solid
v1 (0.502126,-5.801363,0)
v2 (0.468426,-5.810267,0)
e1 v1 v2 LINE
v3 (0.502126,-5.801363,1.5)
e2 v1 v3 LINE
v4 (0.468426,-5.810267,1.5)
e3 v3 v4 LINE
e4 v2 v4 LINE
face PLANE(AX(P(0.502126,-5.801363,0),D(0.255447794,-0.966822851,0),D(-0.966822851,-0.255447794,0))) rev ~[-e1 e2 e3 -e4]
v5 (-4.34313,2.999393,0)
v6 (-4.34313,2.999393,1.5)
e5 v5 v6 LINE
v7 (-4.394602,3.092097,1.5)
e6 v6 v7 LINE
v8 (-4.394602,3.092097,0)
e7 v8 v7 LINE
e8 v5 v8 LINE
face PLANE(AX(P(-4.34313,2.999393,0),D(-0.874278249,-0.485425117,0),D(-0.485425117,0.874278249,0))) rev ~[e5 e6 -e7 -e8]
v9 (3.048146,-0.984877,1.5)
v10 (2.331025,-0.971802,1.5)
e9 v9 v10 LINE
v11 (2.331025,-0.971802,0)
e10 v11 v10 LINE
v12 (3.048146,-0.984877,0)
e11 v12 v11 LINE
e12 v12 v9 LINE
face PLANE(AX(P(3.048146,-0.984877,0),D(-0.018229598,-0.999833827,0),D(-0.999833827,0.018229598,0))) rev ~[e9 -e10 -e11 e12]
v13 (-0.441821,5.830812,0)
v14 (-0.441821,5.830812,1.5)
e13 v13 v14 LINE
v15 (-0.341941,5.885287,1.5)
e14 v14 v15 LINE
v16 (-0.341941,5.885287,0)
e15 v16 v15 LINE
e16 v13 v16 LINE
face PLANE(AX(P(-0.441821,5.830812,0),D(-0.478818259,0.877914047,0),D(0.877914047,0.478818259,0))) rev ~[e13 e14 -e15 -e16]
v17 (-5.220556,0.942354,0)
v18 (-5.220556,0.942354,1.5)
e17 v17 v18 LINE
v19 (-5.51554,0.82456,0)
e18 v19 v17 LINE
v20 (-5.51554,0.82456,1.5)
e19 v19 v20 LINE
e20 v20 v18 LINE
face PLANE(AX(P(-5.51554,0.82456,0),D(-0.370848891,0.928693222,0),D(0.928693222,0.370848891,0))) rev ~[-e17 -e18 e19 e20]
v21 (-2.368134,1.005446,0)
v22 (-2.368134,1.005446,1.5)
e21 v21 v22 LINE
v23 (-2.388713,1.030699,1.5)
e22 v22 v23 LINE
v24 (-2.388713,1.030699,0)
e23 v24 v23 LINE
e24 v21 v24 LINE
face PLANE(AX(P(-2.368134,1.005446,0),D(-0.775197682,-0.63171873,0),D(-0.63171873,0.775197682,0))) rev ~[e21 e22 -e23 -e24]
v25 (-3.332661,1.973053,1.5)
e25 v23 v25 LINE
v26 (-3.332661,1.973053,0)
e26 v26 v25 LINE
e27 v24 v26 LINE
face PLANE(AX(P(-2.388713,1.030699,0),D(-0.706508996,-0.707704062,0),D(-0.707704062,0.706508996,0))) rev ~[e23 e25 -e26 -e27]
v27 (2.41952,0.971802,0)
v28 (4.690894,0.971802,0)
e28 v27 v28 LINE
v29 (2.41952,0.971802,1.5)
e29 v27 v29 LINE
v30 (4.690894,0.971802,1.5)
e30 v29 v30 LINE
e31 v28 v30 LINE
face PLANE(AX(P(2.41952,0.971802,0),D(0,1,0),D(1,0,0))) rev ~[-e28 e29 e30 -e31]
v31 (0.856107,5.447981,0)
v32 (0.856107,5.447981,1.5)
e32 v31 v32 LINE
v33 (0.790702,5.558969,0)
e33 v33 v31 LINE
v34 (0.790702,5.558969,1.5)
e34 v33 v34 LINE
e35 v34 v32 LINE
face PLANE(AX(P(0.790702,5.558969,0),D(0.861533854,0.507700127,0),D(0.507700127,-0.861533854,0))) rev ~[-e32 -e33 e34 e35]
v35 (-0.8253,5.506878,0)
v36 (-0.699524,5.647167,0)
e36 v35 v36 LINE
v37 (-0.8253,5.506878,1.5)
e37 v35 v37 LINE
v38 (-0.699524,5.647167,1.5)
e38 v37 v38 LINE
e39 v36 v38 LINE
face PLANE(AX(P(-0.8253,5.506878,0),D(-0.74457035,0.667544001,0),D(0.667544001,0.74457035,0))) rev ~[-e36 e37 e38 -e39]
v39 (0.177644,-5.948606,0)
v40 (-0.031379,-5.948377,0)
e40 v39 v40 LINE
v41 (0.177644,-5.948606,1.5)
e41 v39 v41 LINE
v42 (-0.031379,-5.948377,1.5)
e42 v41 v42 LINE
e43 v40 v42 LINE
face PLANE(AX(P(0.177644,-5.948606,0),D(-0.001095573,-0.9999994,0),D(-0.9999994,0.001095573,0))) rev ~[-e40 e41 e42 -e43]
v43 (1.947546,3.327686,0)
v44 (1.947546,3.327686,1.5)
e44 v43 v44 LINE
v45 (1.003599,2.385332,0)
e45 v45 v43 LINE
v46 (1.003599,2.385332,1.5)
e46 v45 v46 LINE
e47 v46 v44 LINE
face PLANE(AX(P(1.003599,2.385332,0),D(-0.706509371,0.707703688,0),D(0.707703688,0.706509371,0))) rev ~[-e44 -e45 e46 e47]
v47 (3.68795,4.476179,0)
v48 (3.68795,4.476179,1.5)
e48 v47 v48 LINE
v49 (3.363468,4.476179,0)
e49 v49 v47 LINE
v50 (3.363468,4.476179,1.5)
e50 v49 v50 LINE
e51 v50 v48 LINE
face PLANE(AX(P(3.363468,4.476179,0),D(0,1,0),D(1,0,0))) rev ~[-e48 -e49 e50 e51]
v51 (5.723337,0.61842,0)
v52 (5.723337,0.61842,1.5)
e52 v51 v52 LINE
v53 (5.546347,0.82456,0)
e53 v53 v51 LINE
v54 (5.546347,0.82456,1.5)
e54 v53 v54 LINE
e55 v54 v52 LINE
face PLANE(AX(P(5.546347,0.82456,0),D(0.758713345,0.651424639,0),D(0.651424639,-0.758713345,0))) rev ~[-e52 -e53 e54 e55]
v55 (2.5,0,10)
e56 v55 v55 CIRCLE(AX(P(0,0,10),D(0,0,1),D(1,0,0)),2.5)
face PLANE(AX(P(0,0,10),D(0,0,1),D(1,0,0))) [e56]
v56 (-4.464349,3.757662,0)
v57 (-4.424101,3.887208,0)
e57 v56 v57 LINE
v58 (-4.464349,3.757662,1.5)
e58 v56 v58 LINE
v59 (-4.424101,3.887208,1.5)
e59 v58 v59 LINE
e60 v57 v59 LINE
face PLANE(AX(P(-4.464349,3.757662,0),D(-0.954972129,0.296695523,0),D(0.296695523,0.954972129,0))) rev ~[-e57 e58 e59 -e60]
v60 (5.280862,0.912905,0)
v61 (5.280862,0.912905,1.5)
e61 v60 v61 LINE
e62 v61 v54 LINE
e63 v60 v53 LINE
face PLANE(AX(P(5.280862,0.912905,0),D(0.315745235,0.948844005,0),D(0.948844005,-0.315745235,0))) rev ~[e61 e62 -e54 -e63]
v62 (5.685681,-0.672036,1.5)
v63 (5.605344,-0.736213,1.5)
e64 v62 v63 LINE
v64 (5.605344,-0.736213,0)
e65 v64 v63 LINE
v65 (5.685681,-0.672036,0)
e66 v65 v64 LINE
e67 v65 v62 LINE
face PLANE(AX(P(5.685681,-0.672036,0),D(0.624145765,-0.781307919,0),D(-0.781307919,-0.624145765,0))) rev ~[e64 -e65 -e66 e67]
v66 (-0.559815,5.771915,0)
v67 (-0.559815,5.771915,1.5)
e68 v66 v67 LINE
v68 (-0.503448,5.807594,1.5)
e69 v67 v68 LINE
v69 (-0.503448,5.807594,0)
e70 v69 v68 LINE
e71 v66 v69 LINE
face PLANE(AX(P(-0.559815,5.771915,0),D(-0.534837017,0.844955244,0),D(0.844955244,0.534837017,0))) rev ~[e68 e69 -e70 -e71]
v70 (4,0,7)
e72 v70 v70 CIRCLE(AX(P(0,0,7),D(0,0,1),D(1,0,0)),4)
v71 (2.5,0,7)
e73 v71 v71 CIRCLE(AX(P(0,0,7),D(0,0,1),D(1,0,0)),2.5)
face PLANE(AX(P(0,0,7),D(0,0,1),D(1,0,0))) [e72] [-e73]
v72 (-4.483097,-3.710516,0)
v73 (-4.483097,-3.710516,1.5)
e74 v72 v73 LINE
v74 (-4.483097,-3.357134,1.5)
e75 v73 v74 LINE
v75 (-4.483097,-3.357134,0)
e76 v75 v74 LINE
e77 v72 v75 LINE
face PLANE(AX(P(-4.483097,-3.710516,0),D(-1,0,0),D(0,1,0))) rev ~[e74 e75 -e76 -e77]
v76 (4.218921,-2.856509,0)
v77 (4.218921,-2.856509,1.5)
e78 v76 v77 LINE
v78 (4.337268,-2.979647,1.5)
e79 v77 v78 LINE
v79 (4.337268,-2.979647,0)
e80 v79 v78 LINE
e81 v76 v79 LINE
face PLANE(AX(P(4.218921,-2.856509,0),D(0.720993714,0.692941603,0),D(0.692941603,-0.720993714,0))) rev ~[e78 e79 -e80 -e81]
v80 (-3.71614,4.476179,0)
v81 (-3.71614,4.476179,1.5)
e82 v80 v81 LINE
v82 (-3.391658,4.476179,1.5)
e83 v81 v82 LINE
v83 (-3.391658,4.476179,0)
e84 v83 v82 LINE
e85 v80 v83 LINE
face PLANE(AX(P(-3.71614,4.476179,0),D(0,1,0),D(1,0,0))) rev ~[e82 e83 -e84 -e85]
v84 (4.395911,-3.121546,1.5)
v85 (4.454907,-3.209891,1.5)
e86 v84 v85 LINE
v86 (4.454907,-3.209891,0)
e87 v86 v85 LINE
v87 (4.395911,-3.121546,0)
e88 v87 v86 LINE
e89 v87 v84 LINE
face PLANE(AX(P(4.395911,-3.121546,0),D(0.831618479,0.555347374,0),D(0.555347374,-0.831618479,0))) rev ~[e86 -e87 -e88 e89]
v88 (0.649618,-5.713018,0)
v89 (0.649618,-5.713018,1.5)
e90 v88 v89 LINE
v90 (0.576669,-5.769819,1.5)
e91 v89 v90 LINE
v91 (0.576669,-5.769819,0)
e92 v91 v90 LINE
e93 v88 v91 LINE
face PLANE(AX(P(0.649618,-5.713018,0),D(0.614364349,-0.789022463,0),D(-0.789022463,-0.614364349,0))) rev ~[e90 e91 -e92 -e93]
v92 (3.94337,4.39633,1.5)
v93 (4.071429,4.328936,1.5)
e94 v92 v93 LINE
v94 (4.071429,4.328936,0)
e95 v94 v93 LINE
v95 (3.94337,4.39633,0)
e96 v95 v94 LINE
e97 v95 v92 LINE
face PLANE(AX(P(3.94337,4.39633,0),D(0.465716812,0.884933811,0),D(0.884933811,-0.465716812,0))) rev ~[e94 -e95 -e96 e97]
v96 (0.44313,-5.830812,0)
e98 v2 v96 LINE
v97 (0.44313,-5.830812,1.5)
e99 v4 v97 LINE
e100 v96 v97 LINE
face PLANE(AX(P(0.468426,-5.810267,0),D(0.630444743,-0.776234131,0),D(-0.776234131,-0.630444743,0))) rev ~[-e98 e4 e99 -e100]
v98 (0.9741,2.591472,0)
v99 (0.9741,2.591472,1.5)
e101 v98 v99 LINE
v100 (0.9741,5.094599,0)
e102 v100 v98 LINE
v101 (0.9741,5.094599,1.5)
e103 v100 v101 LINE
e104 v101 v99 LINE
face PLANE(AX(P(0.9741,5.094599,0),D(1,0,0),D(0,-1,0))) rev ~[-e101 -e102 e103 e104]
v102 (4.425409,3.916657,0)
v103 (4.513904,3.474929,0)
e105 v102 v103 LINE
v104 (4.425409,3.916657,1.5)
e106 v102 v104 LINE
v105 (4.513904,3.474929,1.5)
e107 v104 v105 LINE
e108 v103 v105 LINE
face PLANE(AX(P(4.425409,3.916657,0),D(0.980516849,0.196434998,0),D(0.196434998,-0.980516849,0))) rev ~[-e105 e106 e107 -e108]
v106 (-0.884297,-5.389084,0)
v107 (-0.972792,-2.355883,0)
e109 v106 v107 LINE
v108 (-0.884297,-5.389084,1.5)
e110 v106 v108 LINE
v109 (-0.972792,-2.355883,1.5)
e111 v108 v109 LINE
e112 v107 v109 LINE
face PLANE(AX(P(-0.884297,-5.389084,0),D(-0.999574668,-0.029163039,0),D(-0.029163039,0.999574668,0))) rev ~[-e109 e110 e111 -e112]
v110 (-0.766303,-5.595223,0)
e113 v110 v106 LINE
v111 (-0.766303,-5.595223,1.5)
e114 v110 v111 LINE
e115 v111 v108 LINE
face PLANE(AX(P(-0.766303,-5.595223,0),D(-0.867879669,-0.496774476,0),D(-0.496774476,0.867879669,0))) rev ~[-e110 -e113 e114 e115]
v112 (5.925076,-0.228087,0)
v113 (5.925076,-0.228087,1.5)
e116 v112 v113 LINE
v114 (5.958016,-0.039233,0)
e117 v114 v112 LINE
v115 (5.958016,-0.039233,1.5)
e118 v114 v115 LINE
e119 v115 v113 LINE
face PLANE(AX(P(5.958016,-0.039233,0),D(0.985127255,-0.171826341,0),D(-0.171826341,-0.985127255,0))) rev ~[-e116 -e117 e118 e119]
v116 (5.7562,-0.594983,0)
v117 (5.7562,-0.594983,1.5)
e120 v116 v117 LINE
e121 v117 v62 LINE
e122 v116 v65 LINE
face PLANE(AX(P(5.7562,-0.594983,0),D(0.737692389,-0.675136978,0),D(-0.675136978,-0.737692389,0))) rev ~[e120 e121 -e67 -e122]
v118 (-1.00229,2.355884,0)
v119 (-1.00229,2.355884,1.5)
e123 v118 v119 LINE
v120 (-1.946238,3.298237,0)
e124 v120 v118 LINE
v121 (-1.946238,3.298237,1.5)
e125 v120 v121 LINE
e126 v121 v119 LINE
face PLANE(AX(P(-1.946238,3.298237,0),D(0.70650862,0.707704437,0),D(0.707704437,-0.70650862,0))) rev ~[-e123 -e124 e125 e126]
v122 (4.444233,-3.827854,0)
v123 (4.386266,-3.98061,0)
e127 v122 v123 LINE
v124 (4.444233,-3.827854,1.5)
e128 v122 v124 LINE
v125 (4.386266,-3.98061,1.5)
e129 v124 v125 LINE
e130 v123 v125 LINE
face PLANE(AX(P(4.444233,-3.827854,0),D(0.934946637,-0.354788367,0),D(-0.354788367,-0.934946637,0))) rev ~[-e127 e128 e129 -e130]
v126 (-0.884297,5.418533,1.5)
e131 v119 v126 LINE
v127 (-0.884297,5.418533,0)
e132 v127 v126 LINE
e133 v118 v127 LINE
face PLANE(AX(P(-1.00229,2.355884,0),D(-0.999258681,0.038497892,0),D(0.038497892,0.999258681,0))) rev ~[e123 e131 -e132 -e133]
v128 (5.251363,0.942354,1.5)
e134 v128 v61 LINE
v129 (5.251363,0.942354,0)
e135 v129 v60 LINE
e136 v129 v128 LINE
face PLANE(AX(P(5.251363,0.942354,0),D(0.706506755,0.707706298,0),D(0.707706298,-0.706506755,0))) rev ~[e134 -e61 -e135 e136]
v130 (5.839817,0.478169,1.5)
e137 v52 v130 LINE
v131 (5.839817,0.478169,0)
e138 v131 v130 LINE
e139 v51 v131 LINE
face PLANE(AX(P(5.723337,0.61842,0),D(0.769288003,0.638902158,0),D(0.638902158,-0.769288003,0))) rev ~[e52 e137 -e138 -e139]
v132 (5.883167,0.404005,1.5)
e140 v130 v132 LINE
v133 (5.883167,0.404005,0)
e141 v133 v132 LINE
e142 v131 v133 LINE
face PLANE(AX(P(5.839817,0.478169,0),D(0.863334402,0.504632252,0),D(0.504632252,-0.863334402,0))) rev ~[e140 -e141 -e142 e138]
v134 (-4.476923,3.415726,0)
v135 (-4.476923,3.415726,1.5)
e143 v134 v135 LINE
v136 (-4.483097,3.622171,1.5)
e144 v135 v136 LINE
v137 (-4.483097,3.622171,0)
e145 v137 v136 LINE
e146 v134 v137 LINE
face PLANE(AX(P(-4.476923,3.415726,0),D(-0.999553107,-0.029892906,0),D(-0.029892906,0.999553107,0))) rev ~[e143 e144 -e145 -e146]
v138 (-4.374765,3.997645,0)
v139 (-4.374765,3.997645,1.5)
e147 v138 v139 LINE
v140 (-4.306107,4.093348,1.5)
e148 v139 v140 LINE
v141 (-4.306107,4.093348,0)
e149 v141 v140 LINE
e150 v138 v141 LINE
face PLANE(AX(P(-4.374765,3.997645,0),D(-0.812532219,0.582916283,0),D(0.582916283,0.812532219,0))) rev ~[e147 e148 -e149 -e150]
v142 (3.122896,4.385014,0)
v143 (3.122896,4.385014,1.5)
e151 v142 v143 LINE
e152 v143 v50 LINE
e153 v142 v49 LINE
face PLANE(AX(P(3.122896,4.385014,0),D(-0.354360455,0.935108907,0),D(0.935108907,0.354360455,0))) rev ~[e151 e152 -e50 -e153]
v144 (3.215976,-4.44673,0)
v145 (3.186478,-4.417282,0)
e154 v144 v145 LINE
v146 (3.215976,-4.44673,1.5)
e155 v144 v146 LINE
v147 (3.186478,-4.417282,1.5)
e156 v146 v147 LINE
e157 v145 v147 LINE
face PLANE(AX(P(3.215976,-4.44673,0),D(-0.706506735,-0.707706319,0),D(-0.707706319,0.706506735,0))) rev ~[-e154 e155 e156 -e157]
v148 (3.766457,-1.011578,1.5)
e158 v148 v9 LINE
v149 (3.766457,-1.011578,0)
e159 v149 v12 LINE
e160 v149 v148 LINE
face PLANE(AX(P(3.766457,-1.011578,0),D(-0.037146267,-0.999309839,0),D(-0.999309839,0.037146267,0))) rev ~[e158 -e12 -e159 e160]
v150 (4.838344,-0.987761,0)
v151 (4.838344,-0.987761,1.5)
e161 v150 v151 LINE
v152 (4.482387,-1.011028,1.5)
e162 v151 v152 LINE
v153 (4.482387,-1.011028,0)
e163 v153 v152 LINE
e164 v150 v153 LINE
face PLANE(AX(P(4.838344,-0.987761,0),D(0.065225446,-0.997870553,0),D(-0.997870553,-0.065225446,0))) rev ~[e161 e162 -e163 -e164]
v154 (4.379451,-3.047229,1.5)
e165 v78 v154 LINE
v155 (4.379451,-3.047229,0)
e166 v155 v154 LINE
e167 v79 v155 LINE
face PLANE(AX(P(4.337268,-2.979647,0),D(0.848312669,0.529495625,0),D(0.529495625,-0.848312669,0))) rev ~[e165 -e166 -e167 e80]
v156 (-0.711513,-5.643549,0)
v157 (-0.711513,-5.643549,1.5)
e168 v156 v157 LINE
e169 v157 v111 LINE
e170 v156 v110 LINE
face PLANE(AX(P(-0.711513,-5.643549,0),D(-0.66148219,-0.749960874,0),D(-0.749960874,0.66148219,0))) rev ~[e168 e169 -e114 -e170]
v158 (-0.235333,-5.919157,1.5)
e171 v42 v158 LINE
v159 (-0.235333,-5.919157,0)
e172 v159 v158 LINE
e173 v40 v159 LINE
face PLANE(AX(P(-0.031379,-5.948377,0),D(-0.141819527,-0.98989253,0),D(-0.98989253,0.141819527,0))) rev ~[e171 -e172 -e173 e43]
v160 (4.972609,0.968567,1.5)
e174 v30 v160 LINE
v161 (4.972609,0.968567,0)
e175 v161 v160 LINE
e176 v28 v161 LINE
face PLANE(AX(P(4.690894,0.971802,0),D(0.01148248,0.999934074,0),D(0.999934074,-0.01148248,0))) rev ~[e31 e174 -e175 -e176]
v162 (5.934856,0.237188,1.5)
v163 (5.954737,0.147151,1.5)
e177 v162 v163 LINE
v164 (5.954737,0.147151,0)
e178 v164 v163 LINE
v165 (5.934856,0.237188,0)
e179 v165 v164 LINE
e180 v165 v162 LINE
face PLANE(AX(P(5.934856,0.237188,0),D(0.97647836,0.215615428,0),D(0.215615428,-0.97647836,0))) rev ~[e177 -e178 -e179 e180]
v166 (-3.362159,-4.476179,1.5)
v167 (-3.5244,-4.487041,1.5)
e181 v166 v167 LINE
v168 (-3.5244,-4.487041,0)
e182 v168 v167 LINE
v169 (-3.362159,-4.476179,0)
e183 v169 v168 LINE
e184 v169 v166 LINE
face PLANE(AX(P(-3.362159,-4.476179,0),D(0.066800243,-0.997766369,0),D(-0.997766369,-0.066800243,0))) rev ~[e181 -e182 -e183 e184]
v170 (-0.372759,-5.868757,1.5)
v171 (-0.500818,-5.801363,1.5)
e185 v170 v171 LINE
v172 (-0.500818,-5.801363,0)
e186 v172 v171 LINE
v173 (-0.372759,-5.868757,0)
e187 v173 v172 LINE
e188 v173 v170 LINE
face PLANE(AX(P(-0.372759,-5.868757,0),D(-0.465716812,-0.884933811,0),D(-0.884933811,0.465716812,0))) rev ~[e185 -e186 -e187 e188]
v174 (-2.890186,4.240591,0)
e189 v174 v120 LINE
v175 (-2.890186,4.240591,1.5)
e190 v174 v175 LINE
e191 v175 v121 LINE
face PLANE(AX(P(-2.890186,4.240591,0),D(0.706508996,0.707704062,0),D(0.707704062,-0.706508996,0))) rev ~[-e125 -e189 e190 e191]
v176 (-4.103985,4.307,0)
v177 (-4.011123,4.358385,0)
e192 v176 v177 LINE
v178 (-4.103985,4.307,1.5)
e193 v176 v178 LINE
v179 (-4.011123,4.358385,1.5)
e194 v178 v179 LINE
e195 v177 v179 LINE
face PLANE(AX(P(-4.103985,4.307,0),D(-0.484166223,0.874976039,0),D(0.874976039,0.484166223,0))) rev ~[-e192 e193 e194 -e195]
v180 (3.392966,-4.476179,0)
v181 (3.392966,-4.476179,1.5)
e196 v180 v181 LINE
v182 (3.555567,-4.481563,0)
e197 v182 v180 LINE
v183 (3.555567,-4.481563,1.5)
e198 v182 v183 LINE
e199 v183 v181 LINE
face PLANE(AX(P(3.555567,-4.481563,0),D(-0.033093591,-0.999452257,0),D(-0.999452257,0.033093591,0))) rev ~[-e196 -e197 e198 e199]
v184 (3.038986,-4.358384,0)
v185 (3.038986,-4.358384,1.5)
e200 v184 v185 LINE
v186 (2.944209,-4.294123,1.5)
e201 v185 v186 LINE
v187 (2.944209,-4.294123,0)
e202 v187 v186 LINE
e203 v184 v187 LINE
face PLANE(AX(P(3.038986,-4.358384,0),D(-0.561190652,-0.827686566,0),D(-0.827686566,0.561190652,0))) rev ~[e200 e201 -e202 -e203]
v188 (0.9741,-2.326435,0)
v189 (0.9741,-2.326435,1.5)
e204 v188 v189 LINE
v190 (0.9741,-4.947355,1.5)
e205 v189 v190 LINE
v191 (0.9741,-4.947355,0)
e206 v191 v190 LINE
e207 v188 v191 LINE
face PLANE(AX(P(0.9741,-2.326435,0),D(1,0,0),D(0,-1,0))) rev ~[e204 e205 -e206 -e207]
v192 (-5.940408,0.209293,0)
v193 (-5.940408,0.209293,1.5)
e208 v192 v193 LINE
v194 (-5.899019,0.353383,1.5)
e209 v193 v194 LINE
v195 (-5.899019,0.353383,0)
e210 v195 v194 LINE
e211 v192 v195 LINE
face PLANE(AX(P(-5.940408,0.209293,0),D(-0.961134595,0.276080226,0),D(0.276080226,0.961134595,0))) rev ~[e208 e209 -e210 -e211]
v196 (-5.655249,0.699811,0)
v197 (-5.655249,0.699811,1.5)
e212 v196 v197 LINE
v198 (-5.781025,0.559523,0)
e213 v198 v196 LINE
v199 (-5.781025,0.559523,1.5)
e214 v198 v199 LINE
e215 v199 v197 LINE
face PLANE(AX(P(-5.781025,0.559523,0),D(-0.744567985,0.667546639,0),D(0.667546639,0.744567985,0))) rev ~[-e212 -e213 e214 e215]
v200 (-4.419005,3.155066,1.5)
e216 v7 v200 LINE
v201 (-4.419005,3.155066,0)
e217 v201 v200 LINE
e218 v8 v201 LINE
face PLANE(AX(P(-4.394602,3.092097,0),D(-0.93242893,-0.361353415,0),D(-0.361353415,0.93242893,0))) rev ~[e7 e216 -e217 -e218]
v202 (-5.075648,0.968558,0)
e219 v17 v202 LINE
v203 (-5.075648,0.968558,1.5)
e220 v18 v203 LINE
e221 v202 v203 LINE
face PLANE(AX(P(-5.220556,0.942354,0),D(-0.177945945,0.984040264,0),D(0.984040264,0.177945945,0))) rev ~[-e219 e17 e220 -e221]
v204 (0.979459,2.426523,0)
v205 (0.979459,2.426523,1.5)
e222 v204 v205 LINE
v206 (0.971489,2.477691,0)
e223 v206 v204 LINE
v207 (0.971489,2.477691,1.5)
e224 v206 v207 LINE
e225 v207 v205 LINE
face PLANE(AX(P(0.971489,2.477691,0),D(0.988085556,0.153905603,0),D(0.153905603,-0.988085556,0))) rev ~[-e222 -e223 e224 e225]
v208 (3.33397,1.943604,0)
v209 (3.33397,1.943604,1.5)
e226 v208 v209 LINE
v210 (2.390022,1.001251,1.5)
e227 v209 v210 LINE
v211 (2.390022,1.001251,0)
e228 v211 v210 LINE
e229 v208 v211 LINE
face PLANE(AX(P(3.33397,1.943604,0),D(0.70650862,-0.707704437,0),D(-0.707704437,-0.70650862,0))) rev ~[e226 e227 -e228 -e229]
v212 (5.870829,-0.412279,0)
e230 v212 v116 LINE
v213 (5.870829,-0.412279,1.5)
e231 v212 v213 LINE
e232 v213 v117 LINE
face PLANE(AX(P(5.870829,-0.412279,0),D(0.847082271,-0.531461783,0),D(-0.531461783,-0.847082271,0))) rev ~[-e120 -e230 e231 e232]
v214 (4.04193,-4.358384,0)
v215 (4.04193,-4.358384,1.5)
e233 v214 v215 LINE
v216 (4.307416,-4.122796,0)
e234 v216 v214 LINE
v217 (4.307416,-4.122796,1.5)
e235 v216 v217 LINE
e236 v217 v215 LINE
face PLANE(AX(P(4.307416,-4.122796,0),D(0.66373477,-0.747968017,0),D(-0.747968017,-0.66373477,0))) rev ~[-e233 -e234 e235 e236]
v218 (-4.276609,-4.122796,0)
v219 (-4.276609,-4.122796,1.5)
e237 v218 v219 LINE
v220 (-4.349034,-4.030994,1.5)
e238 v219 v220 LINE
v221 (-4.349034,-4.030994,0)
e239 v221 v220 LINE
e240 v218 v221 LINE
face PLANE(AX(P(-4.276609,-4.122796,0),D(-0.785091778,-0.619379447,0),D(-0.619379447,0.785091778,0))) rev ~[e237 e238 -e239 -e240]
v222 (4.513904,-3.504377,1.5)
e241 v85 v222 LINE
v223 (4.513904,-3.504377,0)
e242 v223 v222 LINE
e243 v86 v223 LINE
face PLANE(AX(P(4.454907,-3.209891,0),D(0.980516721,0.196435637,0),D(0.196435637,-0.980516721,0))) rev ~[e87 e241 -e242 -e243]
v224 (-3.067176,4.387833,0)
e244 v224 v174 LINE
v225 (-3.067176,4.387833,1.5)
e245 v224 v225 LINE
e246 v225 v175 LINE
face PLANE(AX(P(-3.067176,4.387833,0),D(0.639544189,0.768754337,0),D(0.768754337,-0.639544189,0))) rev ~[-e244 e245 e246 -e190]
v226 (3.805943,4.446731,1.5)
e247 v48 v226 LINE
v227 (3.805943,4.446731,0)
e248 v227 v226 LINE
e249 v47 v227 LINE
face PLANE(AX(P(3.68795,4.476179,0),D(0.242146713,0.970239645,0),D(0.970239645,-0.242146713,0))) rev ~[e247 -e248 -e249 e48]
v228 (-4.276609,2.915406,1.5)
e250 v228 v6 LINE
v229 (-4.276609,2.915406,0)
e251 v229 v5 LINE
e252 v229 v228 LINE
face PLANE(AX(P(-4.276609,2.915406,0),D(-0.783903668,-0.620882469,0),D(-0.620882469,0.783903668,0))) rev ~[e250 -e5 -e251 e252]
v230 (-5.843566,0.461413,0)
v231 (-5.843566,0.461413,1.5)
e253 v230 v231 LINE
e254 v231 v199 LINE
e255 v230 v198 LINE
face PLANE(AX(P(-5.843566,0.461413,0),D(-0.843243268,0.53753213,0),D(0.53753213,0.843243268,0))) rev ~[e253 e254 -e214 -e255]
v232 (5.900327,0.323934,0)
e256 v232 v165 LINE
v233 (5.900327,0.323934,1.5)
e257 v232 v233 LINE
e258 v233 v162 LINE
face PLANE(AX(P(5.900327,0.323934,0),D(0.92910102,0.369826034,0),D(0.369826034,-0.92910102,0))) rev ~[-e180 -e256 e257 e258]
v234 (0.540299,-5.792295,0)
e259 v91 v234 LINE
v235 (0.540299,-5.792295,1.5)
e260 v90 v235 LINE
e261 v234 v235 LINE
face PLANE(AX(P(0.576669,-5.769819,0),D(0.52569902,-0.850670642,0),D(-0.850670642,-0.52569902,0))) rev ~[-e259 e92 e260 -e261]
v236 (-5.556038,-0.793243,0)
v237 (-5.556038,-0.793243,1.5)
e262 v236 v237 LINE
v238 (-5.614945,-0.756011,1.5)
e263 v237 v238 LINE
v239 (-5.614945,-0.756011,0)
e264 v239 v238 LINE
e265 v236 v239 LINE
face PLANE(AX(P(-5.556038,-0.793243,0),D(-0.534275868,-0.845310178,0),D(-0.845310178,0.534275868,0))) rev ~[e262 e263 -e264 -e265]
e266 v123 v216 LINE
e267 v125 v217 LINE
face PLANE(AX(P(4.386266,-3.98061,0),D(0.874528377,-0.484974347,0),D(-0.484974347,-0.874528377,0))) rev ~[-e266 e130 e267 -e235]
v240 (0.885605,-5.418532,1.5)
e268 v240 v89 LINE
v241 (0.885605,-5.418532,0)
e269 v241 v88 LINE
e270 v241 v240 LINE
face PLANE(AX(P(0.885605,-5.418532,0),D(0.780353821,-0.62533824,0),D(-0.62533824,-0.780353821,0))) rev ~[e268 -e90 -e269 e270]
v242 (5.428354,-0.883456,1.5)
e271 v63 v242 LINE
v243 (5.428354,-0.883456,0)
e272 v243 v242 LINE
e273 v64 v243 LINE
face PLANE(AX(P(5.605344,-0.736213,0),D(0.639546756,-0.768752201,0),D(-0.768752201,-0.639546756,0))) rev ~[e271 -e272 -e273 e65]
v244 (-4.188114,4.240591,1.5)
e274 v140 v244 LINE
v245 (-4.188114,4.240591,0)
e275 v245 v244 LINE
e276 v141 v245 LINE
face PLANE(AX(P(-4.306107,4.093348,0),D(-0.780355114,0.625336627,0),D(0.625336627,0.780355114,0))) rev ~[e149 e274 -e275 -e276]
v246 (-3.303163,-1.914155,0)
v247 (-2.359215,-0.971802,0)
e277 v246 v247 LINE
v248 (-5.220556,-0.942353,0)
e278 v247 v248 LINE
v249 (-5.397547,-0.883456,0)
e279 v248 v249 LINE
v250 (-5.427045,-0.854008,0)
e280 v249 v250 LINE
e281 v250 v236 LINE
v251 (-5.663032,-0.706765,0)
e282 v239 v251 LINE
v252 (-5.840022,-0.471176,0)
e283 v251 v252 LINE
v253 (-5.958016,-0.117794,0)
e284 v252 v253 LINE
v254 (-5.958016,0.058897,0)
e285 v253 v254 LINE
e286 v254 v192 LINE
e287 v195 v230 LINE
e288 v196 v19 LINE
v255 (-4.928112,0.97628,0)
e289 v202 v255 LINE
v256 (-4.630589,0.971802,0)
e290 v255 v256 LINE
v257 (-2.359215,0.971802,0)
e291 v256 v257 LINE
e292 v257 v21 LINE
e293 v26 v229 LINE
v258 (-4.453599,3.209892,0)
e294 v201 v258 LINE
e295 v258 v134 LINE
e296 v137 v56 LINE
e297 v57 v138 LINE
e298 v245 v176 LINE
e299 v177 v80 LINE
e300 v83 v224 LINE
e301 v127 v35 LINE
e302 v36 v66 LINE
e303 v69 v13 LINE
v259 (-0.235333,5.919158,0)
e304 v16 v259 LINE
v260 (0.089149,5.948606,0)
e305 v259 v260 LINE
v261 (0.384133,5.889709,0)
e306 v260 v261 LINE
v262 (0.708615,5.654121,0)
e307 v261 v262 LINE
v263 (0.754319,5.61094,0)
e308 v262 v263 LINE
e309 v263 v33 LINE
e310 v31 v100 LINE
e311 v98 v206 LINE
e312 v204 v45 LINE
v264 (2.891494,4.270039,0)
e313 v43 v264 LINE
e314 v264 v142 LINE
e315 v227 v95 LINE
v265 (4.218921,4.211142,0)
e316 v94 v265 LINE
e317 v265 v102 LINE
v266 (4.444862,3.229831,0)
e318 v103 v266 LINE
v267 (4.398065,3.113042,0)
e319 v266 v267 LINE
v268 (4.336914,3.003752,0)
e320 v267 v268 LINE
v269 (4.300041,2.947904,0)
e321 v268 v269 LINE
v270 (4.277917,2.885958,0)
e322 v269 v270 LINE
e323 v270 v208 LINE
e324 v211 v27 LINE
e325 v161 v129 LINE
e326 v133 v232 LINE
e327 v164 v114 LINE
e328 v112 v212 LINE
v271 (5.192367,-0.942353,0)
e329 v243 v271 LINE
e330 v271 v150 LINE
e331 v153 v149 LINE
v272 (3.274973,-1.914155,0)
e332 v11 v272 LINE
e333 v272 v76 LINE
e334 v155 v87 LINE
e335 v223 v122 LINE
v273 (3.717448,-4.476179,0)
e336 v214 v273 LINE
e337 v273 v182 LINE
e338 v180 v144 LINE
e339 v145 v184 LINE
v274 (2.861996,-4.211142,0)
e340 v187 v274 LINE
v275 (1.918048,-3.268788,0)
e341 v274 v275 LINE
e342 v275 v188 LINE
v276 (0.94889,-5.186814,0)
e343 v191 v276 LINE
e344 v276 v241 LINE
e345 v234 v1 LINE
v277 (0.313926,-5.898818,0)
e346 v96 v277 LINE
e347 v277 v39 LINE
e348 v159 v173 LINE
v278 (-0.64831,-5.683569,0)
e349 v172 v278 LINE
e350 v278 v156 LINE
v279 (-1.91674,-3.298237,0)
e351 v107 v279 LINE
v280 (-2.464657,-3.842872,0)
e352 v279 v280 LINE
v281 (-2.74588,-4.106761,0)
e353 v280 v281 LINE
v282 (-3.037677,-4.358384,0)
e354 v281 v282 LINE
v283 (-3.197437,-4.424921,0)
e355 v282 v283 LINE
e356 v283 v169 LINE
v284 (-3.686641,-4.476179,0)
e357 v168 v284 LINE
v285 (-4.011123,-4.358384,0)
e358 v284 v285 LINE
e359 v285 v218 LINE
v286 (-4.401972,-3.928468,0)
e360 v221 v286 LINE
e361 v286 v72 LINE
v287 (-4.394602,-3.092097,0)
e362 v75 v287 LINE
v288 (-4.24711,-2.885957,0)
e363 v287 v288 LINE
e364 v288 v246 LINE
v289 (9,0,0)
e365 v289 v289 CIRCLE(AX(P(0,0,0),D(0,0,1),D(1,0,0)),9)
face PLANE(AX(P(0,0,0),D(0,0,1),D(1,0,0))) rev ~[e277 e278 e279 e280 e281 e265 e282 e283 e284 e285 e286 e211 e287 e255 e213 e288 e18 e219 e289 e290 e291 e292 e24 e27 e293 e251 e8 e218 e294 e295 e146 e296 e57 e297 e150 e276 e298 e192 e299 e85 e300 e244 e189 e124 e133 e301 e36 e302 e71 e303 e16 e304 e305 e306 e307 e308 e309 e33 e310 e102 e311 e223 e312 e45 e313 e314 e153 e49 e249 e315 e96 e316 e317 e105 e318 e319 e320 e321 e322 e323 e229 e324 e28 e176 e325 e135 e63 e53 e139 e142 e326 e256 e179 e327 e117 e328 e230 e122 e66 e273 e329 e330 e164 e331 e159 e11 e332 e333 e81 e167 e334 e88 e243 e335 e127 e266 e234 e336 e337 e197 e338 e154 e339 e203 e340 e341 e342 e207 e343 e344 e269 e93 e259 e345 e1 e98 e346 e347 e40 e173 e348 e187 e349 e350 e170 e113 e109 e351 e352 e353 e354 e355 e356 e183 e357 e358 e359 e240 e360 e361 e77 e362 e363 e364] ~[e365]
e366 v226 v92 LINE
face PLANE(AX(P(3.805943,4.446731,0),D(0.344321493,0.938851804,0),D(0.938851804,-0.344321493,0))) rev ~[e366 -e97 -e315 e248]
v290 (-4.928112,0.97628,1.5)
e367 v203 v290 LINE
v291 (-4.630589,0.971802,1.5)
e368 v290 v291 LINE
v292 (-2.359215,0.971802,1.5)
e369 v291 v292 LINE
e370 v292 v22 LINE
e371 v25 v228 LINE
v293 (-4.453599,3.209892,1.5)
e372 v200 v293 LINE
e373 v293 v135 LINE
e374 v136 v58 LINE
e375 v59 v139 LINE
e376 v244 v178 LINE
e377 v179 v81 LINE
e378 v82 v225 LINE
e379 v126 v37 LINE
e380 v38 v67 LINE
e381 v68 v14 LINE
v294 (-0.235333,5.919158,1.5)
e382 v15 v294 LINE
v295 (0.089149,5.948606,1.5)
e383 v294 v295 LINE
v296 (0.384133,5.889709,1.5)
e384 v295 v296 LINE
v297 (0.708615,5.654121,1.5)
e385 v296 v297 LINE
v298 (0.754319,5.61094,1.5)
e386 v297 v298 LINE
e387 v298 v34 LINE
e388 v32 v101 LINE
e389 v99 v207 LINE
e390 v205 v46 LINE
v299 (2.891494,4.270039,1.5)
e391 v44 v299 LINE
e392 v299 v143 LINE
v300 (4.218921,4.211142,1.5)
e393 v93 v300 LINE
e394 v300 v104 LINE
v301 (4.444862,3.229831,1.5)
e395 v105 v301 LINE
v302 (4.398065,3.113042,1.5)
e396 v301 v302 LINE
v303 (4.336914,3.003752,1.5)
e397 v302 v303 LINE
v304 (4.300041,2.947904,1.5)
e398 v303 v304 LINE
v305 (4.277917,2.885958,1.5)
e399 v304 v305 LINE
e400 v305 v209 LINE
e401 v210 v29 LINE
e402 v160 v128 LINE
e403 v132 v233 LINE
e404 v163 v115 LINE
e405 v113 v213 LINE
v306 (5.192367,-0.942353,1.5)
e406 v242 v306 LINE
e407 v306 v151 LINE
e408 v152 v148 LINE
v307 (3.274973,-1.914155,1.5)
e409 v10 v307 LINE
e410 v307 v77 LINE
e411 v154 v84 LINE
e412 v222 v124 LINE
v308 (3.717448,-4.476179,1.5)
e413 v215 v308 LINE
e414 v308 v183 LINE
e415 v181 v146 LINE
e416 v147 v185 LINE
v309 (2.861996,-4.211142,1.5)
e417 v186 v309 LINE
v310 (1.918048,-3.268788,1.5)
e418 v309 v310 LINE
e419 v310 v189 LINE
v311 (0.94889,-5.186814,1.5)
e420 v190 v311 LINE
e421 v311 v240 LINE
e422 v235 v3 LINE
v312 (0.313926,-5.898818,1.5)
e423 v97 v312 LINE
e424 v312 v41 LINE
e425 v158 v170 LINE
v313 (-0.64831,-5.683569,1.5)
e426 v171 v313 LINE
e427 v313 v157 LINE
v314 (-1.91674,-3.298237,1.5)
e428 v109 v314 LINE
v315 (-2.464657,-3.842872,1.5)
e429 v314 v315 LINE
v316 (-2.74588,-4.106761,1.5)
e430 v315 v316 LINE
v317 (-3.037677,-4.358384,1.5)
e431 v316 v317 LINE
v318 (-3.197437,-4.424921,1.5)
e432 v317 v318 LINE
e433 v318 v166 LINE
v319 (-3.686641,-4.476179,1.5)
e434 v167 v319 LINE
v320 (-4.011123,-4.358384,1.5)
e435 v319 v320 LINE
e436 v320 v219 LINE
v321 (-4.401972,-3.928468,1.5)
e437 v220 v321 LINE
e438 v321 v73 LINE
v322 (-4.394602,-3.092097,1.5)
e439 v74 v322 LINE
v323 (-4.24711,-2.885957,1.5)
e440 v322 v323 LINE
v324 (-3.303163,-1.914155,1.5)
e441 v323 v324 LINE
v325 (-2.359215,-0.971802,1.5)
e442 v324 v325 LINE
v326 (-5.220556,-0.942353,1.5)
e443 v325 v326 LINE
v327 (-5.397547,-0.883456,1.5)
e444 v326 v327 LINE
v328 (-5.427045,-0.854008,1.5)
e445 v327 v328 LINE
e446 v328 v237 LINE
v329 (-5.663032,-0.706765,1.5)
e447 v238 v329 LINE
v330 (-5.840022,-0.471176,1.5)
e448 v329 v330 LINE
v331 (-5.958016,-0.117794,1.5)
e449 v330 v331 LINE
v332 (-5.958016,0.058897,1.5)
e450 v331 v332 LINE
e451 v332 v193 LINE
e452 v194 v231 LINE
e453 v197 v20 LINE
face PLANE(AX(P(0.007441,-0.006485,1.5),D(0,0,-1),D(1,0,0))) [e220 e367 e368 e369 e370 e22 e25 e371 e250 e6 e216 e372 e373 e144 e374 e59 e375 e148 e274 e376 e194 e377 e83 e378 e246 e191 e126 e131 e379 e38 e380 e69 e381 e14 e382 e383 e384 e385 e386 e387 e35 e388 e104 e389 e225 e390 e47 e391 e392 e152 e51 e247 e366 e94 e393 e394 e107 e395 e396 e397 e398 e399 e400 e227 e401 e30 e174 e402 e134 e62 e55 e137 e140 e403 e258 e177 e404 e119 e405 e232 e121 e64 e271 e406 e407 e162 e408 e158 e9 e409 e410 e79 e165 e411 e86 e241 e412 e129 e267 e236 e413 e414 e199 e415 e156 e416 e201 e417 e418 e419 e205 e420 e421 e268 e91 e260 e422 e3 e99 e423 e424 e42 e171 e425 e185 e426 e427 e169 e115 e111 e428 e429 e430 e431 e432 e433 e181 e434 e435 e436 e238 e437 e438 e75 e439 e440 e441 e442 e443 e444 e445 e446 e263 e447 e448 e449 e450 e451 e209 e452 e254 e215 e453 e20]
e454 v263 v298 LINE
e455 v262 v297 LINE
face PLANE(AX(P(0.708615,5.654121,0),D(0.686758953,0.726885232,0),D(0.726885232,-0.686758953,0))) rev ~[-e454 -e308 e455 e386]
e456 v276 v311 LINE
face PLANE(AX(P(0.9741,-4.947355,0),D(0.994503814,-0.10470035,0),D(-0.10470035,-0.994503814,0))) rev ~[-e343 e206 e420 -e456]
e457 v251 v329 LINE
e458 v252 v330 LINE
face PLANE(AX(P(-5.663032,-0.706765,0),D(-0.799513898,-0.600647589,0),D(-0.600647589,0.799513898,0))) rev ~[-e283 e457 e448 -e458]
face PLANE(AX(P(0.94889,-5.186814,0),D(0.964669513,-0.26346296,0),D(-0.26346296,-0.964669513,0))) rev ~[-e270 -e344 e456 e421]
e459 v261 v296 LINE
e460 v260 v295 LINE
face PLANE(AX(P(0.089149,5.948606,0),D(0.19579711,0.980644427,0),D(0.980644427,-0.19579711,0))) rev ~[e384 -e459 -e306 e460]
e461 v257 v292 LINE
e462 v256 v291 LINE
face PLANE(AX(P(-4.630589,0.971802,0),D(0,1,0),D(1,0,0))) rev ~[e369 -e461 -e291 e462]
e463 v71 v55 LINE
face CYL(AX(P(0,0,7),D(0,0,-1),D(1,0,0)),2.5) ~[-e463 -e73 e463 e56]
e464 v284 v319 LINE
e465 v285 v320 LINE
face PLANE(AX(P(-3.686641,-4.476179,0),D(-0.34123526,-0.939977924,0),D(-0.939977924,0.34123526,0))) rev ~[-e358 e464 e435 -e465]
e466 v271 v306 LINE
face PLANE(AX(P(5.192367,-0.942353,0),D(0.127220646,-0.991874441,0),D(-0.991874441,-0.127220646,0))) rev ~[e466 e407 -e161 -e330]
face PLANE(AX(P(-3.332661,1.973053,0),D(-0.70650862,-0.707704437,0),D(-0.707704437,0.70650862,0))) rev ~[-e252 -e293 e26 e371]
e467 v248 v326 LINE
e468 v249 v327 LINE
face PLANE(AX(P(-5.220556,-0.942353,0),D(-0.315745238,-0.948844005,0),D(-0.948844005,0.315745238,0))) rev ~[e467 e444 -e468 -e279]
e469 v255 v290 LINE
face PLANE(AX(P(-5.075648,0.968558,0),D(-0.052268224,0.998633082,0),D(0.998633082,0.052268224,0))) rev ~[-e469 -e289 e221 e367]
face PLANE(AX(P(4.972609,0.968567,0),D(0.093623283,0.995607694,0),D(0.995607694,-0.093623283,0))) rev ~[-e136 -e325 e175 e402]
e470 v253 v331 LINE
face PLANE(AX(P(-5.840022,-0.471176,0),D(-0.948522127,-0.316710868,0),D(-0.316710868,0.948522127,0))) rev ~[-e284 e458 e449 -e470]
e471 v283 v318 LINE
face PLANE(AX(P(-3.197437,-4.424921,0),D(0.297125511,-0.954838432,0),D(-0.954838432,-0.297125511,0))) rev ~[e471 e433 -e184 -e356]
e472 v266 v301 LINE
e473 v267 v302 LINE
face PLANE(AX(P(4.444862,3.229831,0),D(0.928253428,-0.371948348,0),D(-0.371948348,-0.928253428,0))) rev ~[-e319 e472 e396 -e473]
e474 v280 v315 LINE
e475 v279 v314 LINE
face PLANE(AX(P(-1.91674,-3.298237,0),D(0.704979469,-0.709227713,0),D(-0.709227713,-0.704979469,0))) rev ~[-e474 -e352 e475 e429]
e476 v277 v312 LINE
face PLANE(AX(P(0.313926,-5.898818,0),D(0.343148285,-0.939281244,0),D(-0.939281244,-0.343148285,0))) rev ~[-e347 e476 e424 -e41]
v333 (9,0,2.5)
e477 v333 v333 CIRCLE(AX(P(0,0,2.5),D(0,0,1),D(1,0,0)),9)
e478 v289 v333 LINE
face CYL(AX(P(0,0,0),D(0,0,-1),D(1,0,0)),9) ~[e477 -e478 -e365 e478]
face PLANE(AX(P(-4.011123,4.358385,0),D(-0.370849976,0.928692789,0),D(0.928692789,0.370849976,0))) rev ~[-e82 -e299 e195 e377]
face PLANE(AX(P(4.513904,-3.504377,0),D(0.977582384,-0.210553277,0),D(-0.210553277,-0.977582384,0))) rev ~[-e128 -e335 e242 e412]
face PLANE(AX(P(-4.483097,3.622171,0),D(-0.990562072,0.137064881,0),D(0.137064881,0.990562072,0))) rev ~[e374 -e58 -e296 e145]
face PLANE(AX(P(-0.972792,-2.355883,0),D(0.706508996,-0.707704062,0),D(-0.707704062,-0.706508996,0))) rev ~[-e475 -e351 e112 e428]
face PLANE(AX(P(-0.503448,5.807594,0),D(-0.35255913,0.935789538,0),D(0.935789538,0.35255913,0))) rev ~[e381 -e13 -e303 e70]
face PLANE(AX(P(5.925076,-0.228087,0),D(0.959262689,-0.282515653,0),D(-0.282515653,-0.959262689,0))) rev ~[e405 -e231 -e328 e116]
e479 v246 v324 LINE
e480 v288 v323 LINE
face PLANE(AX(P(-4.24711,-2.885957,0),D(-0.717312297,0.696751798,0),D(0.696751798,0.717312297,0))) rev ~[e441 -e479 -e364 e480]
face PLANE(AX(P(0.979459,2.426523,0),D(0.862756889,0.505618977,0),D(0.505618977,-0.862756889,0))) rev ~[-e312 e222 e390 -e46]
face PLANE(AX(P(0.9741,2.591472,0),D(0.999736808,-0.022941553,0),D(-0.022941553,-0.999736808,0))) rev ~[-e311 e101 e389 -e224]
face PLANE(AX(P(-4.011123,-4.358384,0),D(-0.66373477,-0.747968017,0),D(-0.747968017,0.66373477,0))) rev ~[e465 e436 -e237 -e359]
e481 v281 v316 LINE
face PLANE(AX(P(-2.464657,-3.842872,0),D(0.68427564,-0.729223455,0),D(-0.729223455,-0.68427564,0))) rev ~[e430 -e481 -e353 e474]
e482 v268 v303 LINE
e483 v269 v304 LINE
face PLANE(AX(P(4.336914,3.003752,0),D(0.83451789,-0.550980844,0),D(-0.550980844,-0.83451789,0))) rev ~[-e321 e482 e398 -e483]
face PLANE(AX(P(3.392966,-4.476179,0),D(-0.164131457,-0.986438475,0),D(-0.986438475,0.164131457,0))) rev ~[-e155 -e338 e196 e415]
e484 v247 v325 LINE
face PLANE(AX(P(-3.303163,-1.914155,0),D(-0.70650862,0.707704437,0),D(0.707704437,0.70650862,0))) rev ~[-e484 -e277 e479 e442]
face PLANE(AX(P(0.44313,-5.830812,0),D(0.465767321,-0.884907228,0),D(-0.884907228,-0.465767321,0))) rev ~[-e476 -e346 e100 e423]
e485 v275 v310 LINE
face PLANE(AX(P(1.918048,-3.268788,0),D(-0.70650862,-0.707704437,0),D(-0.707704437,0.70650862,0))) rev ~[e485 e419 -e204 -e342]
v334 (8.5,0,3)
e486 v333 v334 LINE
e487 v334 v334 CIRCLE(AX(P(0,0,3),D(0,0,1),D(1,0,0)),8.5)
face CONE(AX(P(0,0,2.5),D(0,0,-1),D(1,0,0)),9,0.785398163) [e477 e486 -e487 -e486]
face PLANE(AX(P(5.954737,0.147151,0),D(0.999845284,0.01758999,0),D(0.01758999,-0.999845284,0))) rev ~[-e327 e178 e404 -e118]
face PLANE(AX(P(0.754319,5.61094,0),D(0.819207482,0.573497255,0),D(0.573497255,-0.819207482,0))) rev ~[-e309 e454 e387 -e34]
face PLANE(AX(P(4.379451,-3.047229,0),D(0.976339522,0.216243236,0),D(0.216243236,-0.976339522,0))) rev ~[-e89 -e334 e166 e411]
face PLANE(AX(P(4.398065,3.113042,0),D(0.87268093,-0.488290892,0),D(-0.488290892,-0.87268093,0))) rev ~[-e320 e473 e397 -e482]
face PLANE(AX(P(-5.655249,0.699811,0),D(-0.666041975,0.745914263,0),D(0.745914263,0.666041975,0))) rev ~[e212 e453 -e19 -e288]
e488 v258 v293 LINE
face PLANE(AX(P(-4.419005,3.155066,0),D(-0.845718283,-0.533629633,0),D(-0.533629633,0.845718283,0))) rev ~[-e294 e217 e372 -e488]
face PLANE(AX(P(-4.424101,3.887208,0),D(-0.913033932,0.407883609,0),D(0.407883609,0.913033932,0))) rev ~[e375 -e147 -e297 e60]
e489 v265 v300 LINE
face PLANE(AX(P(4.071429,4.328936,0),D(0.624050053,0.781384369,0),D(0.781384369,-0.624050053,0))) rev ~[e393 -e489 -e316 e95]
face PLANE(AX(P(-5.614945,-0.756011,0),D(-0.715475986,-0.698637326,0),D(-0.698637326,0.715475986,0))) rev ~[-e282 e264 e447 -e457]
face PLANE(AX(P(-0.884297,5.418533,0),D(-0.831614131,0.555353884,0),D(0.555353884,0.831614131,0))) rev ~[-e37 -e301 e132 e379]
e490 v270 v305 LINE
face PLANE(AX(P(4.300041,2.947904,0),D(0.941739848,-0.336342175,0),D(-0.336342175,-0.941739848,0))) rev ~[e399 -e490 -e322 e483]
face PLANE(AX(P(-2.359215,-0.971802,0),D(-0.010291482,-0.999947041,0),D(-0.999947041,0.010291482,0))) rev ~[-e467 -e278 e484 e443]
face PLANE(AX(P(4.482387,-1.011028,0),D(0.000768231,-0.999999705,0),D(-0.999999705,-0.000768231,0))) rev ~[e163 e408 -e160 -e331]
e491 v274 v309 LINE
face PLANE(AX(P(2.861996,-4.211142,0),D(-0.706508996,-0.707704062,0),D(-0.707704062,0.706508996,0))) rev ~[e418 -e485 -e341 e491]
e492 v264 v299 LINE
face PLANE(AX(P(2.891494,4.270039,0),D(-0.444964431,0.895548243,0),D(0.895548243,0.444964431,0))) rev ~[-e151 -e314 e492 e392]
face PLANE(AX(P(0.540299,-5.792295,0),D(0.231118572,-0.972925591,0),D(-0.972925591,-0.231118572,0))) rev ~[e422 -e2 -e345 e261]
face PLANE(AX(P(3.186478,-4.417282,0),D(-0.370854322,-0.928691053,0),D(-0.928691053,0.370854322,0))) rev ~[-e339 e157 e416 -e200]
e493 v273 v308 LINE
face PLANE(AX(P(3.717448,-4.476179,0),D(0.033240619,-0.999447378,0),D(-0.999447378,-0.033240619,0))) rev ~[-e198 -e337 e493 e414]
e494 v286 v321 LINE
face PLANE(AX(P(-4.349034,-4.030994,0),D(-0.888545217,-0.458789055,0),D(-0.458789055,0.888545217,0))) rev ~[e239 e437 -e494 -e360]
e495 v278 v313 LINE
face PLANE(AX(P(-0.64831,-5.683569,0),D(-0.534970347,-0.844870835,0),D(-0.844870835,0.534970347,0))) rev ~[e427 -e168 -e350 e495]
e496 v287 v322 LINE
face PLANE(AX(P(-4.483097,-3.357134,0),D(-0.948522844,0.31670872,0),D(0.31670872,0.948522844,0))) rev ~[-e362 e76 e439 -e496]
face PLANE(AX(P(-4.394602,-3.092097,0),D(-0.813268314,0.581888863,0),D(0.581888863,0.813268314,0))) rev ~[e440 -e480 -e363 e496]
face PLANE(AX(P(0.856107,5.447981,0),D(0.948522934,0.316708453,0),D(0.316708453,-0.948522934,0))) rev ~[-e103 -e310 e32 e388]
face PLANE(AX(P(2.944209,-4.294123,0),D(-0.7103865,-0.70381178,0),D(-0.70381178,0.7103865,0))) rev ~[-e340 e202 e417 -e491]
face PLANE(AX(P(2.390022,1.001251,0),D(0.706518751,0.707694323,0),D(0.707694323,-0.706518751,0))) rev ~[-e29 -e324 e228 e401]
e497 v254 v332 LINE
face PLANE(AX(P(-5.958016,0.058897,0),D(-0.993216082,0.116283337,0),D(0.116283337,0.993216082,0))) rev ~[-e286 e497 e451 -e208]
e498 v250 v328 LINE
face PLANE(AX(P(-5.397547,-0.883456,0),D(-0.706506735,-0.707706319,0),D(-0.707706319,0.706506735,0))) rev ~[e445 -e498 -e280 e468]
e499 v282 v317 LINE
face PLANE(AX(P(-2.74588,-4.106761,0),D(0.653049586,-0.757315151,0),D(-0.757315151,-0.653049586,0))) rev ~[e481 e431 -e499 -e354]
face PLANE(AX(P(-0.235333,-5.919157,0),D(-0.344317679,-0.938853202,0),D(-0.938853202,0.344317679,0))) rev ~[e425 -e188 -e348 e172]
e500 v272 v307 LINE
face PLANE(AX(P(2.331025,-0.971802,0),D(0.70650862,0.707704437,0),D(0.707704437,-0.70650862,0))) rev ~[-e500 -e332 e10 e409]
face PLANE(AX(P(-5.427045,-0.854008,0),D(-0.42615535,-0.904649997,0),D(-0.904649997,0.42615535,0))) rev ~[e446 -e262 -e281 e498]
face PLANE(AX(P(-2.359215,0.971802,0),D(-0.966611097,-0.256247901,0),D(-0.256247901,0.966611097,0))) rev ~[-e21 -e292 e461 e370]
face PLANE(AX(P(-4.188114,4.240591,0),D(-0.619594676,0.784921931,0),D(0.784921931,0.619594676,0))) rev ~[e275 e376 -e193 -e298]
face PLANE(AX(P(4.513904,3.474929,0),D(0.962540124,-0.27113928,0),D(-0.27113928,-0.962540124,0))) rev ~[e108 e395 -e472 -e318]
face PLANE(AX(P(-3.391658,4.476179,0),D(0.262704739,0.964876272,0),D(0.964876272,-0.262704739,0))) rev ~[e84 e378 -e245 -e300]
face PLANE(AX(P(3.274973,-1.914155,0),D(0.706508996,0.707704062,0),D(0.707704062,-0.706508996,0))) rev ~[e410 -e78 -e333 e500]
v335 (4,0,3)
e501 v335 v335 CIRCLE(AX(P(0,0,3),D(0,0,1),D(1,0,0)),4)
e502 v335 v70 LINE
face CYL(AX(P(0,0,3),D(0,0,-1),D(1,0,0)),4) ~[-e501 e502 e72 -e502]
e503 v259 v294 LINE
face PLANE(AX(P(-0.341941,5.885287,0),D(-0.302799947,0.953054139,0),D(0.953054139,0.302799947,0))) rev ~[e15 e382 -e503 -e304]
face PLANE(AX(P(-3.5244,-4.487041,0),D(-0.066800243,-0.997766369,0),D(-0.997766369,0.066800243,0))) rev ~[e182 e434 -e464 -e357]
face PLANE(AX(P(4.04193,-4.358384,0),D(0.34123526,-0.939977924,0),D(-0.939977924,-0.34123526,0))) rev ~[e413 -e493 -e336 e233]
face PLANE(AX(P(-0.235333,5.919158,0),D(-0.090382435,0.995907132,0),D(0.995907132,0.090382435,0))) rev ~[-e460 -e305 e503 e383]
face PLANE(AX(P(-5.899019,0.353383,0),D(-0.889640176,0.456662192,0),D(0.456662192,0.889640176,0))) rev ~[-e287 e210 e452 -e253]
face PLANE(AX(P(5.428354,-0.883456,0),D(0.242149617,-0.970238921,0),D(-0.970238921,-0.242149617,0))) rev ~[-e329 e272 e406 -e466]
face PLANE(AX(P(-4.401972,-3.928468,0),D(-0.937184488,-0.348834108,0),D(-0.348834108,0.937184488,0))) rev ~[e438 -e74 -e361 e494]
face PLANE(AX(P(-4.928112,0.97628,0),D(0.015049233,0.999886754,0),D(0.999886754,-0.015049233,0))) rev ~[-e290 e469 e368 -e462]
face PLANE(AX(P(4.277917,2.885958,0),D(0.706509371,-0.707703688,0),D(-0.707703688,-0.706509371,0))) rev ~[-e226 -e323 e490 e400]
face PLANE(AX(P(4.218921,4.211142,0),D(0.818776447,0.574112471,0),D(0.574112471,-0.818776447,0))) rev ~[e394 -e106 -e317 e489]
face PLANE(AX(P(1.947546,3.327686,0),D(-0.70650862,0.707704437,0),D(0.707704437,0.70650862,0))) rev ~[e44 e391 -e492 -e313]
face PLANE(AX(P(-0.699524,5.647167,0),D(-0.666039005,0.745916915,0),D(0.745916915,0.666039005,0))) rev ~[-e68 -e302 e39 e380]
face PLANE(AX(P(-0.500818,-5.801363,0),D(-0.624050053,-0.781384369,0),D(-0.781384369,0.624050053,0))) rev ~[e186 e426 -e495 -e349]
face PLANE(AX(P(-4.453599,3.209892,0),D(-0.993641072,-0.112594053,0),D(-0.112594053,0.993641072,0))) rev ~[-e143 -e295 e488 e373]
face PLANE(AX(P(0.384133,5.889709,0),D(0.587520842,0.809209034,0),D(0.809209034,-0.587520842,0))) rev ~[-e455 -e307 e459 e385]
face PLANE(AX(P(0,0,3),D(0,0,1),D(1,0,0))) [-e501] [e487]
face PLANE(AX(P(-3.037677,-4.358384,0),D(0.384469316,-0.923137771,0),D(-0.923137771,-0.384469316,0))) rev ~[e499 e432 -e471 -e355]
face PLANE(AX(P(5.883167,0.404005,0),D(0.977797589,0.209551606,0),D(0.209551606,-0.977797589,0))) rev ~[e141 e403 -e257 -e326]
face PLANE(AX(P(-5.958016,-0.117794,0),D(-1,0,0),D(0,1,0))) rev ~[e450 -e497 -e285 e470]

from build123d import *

# Parameters (mm, degrees)
F0_R     = 9
F1_DEPTH = 3
F2_SIZE  = 0.5
F3_R     = 4
F4_DEPTH = 4
F5_R     = 2.5
F6_DEPTH = 3
F8_DEPTH = 1.5


with BuildPart() as f1:
    # F0 (on Top) → F1 (new body)
    with BuildSketch(Plane.XY):
        Circle(F0_R)
    extrude(amount=F1_DEPTH)

    # F2
    f2_edges = [f1.edges().sort_by_distance(p)[0] for p in [
        (-9, 0, 3),
    ]]
    chamfer(f2_edges, length=F2_SIZE)

    # F3 (on face) → F4 (join)
    with BuildSketch(Plane.XY.offset(3)):
        Circle(F3_R)
    extrude(amount=F4_DEPTH)

    # F5 (on face) → F6 (join)
    with BuildSketch(Plane.XY.offset(7)):
        Circle(F5_R)
    extrude(amount=F6_DEPTH)

    # F7 (on face) → F8 (cut)
    with BuildSketch(Plane(origin=(0, 0, 0), x_dir=(1, 0, 0), z_dir=(0, 0, -1))):
        Polygon((-0.031379, 5.948377), (-0.235333, 5.919157), (-0.372759, 5.868757), (-0.500818, 5.801363), (-0.64831, 5.683569), (-0.711513, 5.643549), (-0.766303, 5.595223), (-0.884297, 5.389084), (-0.972792, 2.355883), (-1.91674, 3.298237), (-2.464657, 3.842872), (-2.74588, 4.106761), (-3.037677, 4.358384), (-3.197437, 4.424921), (-3.362159, 4.476179), (-3.5244, 4.487041), (-3.686641, 4.476179), (-4.011123, 4.358384), (-4.276609, 4.122796), (-4.349034, 4.030994), (-4.401972, 3.928468), (-4.483097, 3.710516), (-4.483097, 3.357134), (-4.394602, 3.092097), (-4.24711, 2.885957), (-3.303163, 1.914155), (-2.359215, 0.971802), (-5.220556, 0.942353), (-5.397547, 0.883456), (-5.427045, 0.854008), (-5.556038, 0.793243), (-5.614945, 0.756011), (-5.663032, 0.706765), (-5.840022, 0.471176), (-5.958016, 0.117794), (-5.958016, -0.058897), (-5.940408, -0.209293), (-5.899019, -0.353383), (-5.843566, -0.461413), (-5.781025, -0.559523), (-5.655249, -0.699811), (-5.51554, -0.82456), (-5.220556, -0.942354), (-5.075648, -0.968558), (-4.928112, -0.97628), (-4.630589, -0.971802), (-4.188114, -0.971802), (-2.359215, -0.971802), (-2.368134, -1.005446), (-2.388713, -1.030699), (-3.332661, -1.973053), (-4.276609, -2.915406), (-4.34313, -2.999393), (-4.394602, -3.092097), (-4.419005, -3.155066), (-4.453599, -3.209892), (-4.476923, -3.415726), (-4.483097, -3.622171), (-4.464349, -3.757662), (-4.424101, -3.887208), (-4.374765, -3.997645), (-4.306107, -4.093348), (-4.188114, -4.240591), (-4.103985, -4.307), (-4.011123, -4.358385), (-3.71614, -4.476179), (-3.391658, -4.476179), (-3.067176, -4.387833), (-2.890186, -4.240591), (-1.946238, -3.298237), (-1.00229, -2.355884), (-0.884297, -5.418533), (-0.8253, -5.506878), (-0.699524, -5.647167), (-0.559815, -5.771915), (-0.503448, -5.807594), (-0.441821, -5.830812), (-0.341941, -5.885287), (-0.235333, -5.919158), (0.089149, -5.948606), (0.384133, -5.889709), (0.708615, -5.654121), (0.754319, -5.61094), (0.790702, -5.558969), (0.856107, -5.447981), (0.9741, -5.094599), (0.9741, -4.417282), (0.9741, -2.591472), (0.971489, -2.477691), (0.979459, -2.426523), (1.003599, -2.385332), (1.947546, -3.327686), (2.891494, -4.270039), (3.122896, -4.385014), (3.363468, -4.476179), (3.68795, -4.476179), (3.805943, -4.446731), (3.94337, -4.39633), (4.071429, -4.328936), (4.218921, -4.211142), (4.425409, -3.916657), (4.513904, -3.474929), (4.444862, -3.229831), (4.398065, -3.113042), (4.336914, -3.003752), (4.300041, -2.947904), (4.277917, -2.885958), (3.33397, -1.943604), (2.390022, -1.001251), (2.41952, -0.971802), (2.861996, -0.971802), (4.690894, -0.971802), (4.972609, -0.968567), (5.251363, -0.942354), (5.280862, -0.912905), (5.546347, -0.82456), (5.723337, -0.61842), (5.839817, -0.478169), (5.883167, -0.404005), (5.900327, -0.323934), (5.934856, -0.237188), (5.954737, -0.147151), (5.958016, 0.039233), (5.925076, 0.228087), (5.870829, 0.412279), (5.7562, 0.594983), (5.685681, 0.672036), (5.605344, 0.736213), (5.428354, 0.883456), (5.192367, 0.942353), (4.838344, 0.987761), (4.482387, 1.011028), (3.766457, 1.011578), (3.048146, 0.984877), (2.331025, 0.971802), (3.274973, 1.914155), (4.218921, 2.856509), (4.337268, 2.979647), (4.379451, 3.047229), (4.395911, 3.121546), (4.454907, 3.209891), (4.513904, 3.504377), (4.444233, 3.827854), (4.386266, 3.98061), (4.307416, 4.122796), (4.04193, 4.358384), (3.717448, 4.476179), (3.555567, 4.481563), (3.392966, 4.476179), (3.215976, 4.44673), (3.186478, 4.417282), (3.038986, 4.358384), (2.944209, 4.294123), (2.861996, 4.211142), (1.918048, 3.268788), (0.9741, 2.326435), (0.9741, 3.092097), (0.9741, 4.947355), (0.94889, 5.186814), (0.885605, 5.418532), (0.649618, 5.713018), (0.576669, 5.769819), (0.540299, 5.792295), (0.502126, 5.801363), (0.468426, 5.810267), (0.44313, 5.830812), (0.313926, 5.898818), (0.177644, 5.948606), align=None)
    extrude(amount=-F8_DEPTH, mode=Mode.SUBTRACT)


solid = f1.part
